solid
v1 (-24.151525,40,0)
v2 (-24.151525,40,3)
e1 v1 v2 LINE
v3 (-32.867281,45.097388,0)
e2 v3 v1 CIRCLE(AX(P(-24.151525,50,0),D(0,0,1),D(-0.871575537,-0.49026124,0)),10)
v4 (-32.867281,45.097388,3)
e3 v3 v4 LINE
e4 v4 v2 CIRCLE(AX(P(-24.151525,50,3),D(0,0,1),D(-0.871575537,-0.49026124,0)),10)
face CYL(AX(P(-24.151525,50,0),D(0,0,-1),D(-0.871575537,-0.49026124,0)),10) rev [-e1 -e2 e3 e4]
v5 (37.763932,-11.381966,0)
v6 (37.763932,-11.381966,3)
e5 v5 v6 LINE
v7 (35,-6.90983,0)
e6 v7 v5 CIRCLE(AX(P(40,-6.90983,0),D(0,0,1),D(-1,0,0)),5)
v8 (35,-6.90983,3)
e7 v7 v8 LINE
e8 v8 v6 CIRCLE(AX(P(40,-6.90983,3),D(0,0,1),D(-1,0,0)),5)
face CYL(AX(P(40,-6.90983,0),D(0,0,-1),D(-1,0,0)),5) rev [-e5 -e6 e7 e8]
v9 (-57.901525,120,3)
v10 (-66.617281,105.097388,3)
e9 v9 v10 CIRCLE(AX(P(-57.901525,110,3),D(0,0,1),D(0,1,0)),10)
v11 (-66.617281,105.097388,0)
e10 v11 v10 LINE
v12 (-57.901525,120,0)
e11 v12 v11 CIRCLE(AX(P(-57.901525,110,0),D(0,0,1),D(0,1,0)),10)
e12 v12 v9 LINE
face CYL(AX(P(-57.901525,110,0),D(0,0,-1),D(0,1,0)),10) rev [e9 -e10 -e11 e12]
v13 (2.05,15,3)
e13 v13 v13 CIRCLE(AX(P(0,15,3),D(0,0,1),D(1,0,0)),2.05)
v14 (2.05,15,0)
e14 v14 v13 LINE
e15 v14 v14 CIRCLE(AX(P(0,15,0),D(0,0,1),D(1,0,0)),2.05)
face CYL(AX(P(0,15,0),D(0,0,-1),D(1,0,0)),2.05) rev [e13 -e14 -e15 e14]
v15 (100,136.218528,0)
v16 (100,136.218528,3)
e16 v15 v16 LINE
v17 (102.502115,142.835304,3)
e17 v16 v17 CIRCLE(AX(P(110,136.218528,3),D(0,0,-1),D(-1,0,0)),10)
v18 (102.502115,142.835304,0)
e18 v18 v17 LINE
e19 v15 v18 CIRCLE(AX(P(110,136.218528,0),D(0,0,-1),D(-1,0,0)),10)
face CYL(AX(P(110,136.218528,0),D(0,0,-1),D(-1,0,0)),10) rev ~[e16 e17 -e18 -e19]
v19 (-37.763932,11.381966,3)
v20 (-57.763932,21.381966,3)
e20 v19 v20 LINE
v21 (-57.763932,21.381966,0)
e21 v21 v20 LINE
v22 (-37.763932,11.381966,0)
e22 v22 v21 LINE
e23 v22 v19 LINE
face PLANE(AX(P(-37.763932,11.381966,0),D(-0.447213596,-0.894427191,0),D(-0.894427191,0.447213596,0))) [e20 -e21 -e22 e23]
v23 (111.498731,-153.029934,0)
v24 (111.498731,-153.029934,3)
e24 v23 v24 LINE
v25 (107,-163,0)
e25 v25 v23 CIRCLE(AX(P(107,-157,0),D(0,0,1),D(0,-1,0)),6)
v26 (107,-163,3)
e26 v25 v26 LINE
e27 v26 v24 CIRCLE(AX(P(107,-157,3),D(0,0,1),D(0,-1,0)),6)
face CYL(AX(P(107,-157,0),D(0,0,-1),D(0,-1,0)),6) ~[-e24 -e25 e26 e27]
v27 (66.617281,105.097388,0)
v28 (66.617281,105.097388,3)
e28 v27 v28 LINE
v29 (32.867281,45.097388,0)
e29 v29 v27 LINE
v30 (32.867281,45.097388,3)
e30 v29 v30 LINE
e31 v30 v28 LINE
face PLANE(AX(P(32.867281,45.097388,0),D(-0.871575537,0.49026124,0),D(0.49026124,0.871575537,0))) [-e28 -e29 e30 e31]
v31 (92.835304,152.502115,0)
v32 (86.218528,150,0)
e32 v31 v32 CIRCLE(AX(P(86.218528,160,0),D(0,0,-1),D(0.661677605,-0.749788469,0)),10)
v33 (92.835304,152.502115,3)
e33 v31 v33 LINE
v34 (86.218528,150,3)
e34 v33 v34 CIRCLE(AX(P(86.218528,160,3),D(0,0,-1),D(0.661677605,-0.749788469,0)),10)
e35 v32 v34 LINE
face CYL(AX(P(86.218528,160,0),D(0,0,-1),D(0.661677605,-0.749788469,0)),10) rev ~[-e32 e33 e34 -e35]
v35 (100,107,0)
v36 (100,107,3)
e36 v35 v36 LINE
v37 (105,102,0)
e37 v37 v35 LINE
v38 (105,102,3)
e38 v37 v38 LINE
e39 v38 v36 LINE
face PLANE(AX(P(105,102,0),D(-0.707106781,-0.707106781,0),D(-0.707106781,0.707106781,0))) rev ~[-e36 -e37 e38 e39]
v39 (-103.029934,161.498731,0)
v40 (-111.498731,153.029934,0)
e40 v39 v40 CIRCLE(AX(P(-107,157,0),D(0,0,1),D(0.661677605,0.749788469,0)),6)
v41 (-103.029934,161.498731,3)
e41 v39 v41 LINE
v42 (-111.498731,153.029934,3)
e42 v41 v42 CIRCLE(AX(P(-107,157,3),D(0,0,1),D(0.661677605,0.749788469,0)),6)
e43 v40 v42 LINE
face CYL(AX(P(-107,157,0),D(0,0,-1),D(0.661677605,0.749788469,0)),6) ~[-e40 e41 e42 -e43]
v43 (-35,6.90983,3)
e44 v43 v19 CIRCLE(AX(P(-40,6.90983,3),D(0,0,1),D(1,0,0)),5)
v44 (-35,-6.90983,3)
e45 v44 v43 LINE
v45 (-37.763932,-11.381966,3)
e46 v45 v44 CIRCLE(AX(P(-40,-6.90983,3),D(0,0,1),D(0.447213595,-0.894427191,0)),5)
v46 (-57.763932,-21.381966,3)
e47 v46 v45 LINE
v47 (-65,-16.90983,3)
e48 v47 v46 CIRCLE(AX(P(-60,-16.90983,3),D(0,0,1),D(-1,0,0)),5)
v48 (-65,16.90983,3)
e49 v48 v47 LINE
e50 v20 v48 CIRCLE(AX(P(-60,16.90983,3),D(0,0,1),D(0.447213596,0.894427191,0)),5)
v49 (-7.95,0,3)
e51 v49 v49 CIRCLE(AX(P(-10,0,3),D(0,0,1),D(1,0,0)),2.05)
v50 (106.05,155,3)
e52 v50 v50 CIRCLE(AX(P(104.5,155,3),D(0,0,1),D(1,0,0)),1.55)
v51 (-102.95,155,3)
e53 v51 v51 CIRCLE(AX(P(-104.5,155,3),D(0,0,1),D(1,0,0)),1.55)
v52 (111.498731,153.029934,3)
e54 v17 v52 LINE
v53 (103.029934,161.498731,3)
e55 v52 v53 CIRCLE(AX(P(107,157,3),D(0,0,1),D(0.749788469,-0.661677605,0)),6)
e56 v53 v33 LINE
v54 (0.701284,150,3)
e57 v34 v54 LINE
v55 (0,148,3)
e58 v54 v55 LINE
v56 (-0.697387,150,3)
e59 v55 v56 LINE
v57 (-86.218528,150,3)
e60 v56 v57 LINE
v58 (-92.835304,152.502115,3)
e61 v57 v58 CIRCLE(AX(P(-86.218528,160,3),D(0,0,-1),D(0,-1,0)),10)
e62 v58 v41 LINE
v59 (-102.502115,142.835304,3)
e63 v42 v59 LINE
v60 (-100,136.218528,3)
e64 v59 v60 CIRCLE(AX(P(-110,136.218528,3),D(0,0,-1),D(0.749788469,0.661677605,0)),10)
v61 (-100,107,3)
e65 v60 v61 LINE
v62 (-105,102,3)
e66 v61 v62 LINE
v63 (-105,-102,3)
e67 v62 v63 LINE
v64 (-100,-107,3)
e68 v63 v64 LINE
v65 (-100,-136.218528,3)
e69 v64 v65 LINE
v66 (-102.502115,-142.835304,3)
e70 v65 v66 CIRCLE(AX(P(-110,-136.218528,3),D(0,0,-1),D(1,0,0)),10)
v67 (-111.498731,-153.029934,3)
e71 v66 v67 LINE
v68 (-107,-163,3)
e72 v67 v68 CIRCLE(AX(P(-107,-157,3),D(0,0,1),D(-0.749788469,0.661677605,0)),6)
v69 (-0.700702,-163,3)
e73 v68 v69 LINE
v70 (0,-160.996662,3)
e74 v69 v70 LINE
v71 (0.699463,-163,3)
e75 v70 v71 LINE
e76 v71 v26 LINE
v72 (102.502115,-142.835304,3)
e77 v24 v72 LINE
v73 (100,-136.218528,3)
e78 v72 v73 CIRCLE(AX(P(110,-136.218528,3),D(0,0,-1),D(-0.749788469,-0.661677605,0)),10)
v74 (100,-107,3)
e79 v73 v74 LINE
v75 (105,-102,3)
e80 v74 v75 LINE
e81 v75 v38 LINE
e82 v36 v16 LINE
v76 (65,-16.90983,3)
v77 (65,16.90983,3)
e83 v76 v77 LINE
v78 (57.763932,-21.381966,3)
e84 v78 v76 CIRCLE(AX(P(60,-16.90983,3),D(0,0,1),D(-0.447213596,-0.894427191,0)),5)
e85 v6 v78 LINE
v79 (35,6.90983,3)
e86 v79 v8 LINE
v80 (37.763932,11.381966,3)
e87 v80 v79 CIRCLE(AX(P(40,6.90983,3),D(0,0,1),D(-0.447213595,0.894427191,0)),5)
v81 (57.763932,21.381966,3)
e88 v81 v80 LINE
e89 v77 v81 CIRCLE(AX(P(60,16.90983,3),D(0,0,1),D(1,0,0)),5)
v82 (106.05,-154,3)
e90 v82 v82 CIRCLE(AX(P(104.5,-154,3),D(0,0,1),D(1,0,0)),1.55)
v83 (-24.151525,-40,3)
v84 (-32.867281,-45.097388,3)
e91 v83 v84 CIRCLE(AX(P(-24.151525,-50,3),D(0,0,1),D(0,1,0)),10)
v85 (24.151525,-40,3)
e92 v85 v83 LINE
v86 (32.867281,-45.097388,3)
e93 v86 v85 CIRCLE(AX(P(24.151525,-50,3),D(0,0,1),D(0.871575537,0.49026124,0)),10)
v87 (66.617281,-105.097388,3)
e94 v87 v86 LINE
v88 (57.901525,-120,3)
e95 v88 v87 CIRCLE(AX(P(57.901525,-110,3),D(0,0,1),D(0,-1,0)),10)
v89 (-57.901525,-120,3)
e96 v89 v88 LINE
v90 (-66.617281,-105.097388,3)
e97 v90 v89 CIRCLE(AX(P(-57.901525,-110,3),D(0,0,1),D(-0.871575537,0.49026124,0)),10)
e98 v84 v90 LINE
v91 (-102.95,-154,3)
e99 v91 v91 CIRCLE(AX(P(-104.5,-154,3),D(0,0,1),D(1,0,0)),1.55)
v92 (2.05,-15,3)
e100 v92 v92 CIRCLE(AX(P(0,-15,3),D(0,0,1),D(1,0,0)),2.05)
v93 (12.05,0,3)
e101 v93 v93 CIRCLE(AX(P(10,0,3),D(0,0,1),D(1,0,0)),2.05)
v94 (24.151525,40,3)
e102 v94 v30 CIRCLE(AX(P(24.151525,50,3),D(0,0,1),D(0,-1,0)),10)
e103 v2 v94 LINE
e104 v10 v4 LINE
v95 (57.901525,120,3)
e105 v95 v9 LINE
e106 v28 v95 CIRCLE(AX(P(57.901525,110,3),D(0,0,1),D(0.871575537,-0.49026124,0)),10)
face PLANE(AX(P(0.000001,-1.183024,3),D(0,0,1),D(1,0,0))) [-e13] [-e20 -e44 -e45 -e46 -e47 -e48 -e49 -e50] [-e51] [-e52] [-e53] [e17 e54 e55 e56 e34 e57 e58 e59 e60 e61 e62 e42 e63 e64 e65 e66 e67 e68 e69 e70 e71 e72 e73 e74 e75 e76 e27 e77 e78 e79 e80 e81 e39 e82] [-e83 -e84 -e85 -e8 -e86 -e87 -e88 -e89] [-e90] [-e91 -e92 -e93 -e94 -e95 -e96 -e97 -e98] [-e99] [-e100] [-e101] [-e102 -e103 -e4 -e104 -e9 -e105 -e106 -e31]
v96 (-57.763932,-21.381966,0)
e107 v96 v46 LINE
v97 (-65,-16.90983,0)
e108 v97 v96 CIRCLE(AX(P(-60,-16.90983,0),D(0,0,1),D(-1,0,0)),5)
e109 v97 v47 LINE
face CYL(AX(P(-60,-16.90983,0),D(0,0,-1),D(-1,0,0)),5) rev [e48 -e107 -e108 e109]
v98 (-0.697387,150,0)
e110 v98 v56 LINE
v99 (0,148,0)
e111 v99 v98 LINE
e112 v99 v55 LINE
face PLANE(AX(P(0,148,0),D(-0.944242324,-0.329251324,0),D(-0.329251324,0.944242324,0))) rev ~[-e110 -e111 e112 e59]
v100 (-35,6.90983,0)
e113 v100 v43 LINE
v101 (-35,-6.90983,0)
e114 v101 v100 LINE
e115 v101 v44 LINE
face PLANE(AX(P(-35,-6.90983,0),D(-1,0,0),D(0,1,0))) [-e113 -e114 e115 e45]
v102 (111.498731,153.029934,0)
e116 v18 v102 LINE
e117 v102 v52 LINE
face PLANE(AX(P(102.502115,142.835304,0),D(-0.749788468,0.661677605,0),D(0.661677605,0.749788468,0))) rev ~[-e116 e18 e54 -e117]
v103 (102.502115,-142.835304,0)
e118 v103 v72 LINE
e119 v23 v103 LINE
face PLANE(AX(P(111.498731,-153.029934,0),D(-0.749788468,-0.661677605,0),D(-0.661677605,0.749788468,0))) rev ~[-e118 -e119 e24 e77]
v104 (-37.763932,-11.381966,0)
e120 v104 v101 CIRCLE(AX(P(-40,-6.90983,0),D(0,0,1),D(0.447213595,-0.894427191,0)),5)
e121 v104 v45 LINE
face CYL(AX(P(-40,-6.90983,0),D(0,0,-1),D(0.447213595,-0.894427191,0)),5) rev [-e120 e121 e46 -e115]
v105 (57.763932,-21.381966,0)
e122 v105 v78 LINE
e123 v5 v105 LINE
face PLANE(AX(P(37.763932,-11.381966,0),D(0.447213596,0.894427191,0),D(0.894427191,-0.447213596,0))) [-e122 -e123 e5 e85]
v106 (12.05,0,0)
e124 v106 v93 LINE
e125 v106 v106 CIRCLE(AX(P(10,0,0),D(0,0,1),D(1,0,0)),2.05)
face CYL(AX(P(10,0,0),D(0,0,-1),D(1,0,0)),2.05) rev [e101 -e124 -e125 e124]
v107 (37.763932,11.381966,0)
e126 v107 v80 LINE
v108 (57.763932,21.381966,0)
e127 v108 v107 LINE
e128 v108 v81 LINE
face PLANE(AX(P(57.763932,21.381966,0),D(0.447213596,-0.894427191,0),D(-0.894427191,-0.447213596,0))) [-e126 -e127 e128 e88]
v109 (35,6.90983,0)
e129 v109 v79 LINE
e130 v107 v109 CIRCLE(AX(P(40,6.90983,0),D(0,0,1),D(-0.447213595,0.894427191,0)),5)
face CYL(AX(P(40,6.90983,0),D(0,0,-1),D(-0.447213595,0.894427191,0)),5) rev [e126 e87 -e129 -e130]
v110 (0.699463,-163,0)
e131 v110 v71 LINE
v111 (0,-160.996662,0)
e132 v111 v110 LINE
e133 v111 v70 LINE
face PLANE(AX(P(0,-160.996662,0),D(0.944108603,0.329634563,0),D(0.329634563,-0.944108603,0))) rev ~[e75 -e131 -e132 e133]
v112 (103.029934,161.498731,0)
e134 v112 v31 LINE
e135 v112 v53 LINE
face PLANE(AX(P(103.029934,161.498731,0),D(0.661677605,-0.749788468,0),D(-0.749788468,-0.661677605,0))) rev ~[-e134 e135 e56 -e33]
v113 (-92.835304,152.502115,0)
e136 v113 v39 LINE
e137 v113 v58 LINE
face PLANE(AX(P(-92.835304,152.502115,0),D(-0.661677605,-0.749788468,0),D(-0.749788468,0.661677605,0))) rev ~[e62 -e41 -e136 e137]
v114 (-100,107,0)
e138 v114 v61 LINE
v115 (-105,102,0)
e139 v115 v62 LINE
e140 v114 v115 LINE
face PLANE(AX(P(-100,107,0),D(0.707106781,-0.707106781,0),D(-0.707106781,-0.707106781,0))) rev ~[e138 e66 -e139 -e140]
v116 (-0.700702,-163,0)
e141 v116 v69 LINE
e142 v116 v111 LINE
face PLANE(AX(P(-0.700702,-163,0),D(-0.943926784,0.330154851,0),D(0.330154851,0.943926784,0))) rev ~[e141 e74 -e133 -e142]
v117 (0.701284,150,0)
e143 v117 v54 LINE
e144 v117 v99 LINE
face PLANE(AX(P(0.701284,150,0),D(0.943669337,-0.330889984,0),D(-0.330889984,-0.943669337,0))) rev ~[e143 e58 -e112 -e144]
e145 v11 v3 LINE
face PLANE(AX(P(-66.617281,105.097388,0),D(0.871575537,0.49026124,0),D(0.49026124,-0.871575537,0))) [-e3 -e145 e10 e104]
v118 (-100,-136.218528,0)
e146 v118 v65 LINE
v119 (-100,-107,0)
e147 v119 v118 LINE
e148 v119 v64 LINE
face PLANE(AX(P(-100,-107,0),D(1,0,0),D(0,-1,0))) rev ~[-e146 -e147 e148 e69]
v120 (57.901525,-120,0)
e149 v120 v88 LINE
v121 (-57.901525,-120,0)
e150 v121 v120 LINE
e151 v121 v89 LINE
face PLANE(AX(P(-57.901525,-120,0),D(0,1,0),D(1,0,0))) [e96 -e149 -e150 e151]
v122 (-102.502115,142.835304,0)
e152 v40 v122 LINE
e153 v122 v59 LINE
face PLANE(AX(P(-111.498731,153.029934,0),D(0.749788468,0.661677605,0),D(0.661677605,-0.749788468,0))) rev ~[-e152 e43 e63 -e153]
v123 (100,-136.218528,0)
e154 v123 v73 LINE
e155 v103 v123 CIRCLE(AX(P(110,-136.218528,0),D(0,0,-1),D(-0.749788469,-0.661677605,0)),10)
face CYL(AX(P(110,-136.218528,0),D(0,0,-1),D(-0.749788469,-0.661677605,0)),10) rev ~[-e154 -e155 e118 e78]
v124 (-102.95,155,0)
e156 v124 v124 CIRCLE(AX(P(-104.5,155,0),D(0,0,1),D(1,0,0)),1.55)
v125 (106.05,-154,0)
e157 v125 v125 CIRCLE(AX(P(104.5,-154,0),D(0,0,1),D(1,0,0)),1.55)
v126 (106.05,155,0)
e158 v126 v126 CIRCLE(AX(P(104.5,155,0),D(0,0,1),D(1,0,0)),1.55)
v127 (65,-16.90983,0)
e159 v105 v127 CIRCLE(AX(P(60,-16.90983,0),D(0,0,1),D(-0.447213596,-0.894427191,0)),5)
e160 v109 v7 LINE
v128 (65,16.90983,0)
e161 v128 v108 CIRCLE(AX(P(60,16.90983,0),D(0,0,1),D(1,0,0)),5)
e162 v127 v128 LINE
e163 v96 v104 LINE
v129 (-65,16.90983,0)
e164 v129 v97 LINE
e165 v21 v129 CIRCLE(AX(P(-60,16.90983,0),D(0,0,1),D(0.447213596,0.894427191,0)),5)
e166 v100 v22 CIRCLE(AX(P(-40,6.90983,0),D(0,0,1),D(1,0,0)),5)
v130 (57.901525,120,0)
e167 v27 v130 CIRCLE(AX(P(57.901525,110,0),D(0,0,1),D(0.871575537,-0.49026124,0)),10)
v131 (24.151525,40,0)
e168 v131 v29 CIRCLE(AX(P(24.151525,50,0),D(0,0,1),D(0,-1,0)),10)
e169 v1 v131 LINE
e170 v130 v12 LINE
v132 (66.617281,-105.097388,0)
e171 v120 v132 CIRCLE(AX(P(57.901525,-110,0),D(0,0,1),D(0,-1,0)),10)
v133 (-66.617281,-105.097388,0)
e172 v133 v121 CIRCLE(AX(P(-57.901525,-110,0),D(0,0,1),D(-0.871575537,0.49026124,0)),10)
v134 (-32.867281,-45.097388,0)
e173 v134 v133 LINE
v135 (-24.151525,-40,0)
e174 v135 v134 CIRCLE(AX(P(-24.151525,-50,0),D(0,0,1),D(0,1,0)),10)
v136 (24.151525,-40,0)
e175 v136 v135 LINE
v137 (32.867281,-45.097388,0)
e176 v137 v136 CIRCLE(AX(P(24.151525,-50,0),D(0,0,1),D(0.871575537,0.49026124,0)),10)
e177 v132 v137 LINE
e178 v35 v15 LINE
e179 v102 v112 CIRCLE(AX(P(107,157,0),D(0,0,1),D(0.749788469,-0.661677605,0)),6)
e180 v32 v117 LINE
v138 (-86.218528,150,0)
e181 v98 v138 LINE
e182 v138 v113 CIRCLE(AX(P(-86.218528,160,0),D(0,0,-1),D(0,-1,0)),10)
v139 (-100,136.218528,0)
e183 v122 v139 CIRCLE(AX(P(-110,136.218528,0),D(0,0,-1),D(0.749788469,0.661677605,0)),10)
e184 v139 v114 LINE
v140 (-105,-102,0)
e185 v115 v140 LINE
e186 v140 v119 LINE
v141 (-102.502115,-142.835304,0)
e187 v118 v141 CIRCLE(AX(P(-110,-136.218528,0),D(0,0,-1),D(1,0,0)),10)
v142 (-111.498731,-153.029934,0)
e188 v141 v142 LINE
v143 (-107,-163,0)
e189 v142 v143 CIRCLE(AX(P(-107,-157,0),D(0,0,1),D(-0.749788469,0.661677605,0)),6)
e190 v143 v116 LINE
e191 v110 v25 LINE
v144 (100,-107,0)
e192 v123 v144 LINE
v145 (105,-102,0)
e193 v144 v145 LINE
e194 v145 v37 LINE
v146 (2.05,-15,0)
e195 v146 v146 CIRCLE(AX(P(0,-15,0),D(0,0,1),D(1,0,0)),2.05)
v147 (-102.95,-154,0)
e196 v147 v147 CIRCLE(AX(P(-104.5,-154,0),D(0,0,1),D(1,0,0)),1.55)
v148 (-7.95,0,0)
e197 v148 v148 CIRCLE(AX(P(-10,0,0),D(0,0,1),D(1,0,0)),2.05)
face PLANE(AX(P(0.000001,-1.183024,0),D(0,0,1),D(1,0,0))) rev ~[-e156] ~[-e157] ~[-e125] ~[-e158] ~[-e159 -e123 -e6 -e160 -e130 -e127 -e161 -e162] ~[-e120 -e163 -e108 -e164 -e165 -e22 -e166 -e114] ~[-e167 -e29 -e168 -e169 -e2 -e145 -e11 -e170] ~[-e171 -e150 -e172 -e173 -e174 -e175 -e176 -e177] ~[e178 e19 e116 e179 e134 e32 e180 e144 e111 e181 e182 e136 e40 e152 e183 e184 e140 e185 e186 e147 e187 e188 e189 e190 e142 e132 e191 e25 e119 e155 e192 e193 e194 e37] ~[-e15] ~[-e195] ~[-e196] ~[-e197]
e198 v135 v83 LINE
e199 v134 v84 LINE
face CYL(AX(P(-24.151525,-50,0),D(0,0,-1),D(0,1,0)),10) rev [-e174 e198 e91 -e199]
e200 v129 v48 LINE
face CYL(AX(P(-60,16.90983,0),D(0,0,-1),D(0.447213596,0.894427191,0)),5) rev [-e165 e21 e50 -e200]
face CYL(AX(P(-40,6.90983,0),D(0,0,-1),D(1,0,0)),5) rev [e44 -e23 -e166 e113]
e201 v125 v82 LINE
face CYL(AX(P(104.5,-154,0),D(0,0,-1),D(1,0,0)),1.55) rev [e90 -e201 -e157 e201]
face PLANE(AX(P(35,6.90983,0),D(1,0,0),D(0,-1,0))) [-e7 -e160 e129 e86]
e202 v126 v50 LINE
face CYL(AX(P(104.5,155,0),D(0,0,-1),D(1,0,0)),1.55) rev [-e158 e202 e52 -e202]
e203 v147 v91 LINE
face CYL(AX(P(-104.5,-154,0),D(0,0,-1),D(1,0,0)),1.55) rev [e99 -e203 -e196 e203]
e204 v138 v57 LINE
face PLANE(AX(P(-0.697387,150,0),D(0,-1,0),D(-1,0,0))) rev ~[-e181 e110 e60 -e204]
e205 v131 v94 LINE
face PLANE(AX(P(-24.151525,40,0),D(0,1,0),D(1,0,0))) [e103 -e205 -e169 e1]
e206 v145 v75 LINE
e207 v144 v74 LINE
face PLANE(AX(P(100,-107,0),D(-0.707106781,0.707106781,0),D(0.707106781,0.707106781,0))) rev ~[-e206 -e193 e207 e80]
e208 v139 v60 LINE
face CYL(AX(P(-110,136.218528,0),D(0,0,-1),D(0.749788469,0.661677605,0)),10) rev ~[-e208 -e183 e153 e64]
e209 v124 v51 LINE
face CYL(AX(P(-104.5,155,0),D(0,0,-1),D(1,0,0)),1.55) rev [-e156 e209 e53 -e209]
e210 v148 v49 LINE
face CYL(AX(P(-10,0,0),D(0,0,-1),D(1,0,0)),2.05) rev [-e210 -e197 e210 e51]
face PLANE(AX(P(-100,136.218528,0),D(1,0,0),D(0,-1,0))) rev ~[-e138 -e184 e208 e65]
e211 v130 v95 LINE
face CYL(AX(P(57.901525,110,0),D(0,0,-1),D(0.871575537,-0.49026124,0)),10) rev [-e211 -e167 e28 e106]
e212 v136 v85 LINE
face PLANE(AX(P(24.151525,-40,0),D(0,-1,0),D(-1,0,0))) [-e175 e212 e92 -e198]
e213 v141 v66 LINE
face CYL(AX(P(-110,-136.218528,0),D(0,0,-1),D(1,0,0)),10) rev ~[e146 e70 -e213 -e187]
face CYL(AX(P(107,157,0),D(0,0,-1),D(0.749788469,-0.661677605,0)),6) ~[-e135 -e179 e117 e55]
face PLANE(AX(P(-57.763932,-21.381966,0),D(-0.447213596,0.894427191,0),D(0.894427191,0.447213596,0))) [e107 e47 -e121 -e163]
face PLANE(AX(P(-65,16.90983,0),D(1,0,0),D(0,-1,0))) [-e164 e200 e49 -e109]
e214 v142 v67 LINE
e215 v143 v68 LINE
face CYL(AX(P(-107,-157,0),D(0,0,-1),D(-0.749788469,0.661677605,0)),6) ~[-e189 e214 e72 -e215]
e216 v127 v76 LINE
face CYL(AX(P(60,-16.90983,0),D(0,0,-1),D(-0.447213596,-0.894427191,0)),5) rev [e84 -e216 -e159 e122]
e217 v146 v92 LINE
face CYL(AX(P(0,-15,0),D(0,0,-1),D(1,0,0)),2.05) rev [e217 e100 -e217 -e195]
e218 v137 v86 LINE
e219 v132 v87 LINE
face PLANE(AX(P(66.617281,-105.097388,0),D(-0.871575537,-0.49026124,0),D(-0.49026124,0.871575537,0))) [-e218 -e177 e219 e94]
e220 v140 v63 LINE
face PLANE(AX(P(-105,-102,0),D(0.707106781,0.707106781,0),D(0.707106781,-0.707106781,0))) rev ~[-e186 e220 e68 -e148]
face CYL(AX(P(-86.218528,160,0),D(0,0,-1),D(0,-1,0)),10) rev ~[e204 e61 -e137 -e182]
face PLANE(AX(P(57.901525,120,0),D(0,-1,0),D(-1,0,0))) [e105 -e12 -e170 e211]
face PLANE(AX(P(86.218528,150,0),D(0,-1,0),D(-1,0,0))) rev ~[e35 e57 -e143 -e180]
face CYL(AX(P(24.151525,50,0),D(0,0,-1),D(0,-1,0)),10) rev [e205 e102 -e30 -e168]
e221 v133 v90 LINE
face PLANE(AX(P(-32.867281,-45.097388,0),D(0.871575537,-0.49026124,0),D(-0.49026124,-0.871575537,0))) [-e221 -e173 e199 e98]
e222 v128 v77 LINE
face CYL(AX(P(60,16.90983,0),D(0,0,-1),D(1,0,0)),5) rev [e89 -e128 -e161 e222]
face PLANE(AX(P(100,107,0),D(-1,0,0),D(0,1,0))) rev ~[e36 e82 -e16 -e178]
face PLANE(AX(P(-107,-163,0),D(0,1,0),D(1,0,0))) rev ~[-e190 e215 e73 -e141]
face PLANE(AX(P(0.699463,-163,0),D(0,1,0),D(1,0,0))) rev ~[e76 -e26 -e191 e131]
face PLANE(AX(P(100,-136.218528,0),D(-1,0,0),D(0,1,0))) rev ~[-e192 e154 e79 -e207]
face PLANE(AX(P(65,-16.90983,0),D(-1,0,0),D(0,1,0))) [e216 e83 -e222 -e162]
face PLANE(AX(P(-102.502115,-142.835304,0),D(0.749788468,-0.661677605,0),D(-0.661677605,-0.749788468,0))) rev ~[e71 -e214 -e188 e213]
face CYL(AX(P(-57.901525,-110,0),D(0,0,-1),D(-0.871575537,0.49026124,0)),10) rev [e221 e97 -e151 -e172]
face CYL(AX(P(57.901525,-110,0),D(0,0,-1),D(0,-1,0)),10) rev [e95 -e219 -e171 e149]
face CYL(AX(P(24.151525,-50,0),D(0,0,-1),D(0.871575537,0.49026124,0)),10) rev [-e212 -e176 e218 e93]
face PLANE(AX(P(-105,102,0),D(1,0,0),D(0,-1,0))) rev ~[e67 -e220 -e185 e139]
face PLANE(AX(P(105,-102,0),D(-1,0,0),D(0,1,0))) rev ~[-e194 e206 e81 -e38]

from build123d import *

# Parameters (mm, degrees)
MODEL_R                 = 1.55
MODEL_R_2               = 2.05
SALIENTE_EXTRUIR1_DEPTH = 3


with BuildPart() as part:
    # Model → Saliente-Extruir1 (new body)
    with BuildSketch(Plane.XY):
        with BuildLine():
            Line((-102.502115315, -142.835304077), (-111.498730811, -153.029934372))
            ThreePointArc((-111.498730811, -153.029934372), (-112.469021565, -159.467752645), (-107, -163))
            Line((-107, -163), (-0.700702433, -163))
            Line((-0.700702433, -163), (0, -160.996661892))
            Line((0, -160.996661892), (0.699463472, -163))
            Line((0.699463472, -163), (107, -163))
            ThreePointArc((107, -163), (112.469021565, -159.467752645), (111.498730811, -153.029934372))
            Line((111.498730811, -153.029934372), (102.502115315, -142.835304077))
            ThreePointArc((102.502115315, -142.835304077), (100.646421892, -139.755557374), (100, -136.21852803))
            Line((100, -136.21852803), (100, -107))
            Line((100, -107), (105, -102))
            Line((105, -102), (105, 102))
            Line((105, 102), (100, 107))
            Line((100, 107), (100, 136.21852803))
            ThreePointArc((100, 136.21852803), (100.646421892, 139.755557374), (102.502115315, 142.835304077))
            Line((102.502115315, 142.835304077), (111.498730811, 153.029934372))
            ThreePointArc((111.498730811, 153.029934372), (111.242640687, 161.242640687), (103.029934372, 161.498730811))
            Line((103.029934372, 161.498730811), (92.835304077, 152.502115315))
            ThreePointArc((92.835304077, 152.502115315), (89.755557374, 150.646421892), (86.21852803, 150))
            Line((86.21852803, 150), (0.701283747, 150))
            Line((0.701283747, 150), (0, 148))
            Line((0, 148), (-0.697387345, 150))
            Line((-0.697387345, 150), (-86.21852803, 150))
            ThreePointArc((-86.21852803, 150), (-89.755557374, 150.646421892), (-92.835304077, 152.502115315))
            Line((-92.835304077, 152.502115315), (-103.029934372, 161.498730811))
            ThreePointArc((-103.029934372, 161.498730811), (-111.242640687, 161.242640687), (-111.498730811, 153.029934372))
            Line((-111.498730811, 153.029934372), (-102.502115315, 142.835304077))
            ThreePointArc((-102.502115315, 142.835304077), (-100.646421892, 139.755557374), (-100, 136.21852803))
            Line((-100, 136.21852803), (-100, 107))
            Line((-100, 107), (-105, 102))
            Line((-105, 102), (-105, -102))
            Line((-105, -102), (-100, -107))
            Line((-100, -107), (-100, -136.21852803))
            ThreePointArc((-100, -136.21852803), (-100.646421892, -139.755557374), (-102.502115315, -142.835304077))
        make_face()
        with Locations((-104.5, -154)):
            Circle(MODEL_R, mode=Mode.SUBTRACT)
        with Locations((104.5, -154)):
            Circle(MODEL_R, mode=Mode.SUBTRACT)
        with Locations((-10, 0)):
            Circle(MODEL_R_2, mode=Mode.SUBTRACT)
        with Locations((0, -15)):
            Circle(MODEL_R_2, mode=Mode.SUBTRACT)
        with Locations((10, 0)):
            Circle(MODEL_R_2, mode=Mode.SUBTRACT)
        with Locations((0, 15)):
            Circle(MODEL_R_2, mode=Mode.SUBTRACT)
        with Locations((104.5, 155)):
            Circle(MODEL_R, mode=Mode.SUBTRACT)
        with Locations((-104.5, 155)):
            Circle(MODEL_R, mode=Mode.SUBTRACT)
        with BuildLine():
            Line((24.151525156, -40), (-24.151525156, -40))
            ThreePointArc((-24.151525156, -40), (-29.19998413, -41.367905122), (-32.867280527, -45.097387604))
            Line((-32.867280527, -45.097387604), (-66.617280527, -105.097387604))
            ThreePointArc((-66.617280527, -105.097387604), (-66.533620034, -115.048458975), (-57.901525156, -120))
            Line((-57.901525156, -120), (57.901525156, -120))
            ThreePointArc((57.901525156, -120), (66.533620034, -115.048458975), (66.617280527, -105.097387604))
            Line((66.617280527, -105.097387604), (32.867280527, -45.097387604))
            ThreePointArc((32.867280527, -45.097387604), (29.19998413, -41.367905122), (24.151525156, -40))
        make_face(mode=Mode.SUBTRACT)
        with BuildLine():
            Line((32.867280527, 45.097387604), (66.617280527, 105.097387604))
            ThreePointArc((66.617280527, 105.097387604), (66.533620034, 115.048458975), (57.901525156, 120))
            Line((57.901525156, 120), (-57.901525156, 120))
            ThreePointArc((-57.901525156, 120), (-66.533620034, 115.048458975), (-66.617280527, 105.097387604))
            Line((-66.617280527, 105.097387604), (-32.867280527, 45.097387604))
            ThreePointArc((-32.867280527, 45.097387604), (-29.19998413, 41.367905122), (-24.151525156, 40))
            Line((-24.151525156, 40), (24.151525156, 40))
            ThreePointArc((24.151525156, 40), (29.19998413, 41.367905122), (32.867280527, 45.097387604))
        make_face(mode=Mode.SUBTRACT)
        with BuildLine():
            Line((-37.763932023, 11.381966011), (-57.763932023, 21.381966011))
            ThreePointArc((-57.763932023, 21.381966011), (-62.628655561, 21.163084098), (-65, 16.909830056))
            Line((-65, 16.909830056), (-65, -16.909830056))
            ThreePointArc((-65, -16.909830056), (-62.628655561, -21.163084098), (-57.763932023, -21.381966011))
            Line((-57.763932023, -21.381966011), (-37.763932023, -11.381966011))
            ThreePointArc((-37.763932023, -11.381966011), (-35.746745958, -9.538485617), (-35, -6.909830056))
            Line((-35, -6.909830056), (-35, 6.909830056))
            ThreePointArc((-35, 6.909830056), (-35.746745958, 9.538485617), (-37.763932023, 11.381966011))
        make_face(mode=Mode.SUBTRACT)
        with BuildLine():
            Line((37.763932023, -11.381966011), (57.763932023, -21.381966011))
            ThreePointArc((57.763932023, -21.381966011), (62.628655561, -21.163084098), (65, -16.909830056))
            Line((65, -16.909830056), (65, 16.909830056))
            ThreePointArc((65, 16.909830056), (62.628655561, 21.163084098), (57.763932023, 21.381966011))
            Line((57.763932023, 21.381966011), (37.763932023, 11.381966011))
            ThreePointArc((37.763932023, 11.381966011), (35.746745958, 9.538485617), (35, 6.909830056))
            Line((35, 6.909830056), (35, -6.909830056))
            ThreePointArc((35, -6.909830056), (35.746745958, -9.538485617), (37.763932023, -11.381966011))
        make_face(mode=Mode.SUBTRACT)
    extrude(amount=SALIENTE_EXTRUIR1_DEPTH)


solid = part.part
